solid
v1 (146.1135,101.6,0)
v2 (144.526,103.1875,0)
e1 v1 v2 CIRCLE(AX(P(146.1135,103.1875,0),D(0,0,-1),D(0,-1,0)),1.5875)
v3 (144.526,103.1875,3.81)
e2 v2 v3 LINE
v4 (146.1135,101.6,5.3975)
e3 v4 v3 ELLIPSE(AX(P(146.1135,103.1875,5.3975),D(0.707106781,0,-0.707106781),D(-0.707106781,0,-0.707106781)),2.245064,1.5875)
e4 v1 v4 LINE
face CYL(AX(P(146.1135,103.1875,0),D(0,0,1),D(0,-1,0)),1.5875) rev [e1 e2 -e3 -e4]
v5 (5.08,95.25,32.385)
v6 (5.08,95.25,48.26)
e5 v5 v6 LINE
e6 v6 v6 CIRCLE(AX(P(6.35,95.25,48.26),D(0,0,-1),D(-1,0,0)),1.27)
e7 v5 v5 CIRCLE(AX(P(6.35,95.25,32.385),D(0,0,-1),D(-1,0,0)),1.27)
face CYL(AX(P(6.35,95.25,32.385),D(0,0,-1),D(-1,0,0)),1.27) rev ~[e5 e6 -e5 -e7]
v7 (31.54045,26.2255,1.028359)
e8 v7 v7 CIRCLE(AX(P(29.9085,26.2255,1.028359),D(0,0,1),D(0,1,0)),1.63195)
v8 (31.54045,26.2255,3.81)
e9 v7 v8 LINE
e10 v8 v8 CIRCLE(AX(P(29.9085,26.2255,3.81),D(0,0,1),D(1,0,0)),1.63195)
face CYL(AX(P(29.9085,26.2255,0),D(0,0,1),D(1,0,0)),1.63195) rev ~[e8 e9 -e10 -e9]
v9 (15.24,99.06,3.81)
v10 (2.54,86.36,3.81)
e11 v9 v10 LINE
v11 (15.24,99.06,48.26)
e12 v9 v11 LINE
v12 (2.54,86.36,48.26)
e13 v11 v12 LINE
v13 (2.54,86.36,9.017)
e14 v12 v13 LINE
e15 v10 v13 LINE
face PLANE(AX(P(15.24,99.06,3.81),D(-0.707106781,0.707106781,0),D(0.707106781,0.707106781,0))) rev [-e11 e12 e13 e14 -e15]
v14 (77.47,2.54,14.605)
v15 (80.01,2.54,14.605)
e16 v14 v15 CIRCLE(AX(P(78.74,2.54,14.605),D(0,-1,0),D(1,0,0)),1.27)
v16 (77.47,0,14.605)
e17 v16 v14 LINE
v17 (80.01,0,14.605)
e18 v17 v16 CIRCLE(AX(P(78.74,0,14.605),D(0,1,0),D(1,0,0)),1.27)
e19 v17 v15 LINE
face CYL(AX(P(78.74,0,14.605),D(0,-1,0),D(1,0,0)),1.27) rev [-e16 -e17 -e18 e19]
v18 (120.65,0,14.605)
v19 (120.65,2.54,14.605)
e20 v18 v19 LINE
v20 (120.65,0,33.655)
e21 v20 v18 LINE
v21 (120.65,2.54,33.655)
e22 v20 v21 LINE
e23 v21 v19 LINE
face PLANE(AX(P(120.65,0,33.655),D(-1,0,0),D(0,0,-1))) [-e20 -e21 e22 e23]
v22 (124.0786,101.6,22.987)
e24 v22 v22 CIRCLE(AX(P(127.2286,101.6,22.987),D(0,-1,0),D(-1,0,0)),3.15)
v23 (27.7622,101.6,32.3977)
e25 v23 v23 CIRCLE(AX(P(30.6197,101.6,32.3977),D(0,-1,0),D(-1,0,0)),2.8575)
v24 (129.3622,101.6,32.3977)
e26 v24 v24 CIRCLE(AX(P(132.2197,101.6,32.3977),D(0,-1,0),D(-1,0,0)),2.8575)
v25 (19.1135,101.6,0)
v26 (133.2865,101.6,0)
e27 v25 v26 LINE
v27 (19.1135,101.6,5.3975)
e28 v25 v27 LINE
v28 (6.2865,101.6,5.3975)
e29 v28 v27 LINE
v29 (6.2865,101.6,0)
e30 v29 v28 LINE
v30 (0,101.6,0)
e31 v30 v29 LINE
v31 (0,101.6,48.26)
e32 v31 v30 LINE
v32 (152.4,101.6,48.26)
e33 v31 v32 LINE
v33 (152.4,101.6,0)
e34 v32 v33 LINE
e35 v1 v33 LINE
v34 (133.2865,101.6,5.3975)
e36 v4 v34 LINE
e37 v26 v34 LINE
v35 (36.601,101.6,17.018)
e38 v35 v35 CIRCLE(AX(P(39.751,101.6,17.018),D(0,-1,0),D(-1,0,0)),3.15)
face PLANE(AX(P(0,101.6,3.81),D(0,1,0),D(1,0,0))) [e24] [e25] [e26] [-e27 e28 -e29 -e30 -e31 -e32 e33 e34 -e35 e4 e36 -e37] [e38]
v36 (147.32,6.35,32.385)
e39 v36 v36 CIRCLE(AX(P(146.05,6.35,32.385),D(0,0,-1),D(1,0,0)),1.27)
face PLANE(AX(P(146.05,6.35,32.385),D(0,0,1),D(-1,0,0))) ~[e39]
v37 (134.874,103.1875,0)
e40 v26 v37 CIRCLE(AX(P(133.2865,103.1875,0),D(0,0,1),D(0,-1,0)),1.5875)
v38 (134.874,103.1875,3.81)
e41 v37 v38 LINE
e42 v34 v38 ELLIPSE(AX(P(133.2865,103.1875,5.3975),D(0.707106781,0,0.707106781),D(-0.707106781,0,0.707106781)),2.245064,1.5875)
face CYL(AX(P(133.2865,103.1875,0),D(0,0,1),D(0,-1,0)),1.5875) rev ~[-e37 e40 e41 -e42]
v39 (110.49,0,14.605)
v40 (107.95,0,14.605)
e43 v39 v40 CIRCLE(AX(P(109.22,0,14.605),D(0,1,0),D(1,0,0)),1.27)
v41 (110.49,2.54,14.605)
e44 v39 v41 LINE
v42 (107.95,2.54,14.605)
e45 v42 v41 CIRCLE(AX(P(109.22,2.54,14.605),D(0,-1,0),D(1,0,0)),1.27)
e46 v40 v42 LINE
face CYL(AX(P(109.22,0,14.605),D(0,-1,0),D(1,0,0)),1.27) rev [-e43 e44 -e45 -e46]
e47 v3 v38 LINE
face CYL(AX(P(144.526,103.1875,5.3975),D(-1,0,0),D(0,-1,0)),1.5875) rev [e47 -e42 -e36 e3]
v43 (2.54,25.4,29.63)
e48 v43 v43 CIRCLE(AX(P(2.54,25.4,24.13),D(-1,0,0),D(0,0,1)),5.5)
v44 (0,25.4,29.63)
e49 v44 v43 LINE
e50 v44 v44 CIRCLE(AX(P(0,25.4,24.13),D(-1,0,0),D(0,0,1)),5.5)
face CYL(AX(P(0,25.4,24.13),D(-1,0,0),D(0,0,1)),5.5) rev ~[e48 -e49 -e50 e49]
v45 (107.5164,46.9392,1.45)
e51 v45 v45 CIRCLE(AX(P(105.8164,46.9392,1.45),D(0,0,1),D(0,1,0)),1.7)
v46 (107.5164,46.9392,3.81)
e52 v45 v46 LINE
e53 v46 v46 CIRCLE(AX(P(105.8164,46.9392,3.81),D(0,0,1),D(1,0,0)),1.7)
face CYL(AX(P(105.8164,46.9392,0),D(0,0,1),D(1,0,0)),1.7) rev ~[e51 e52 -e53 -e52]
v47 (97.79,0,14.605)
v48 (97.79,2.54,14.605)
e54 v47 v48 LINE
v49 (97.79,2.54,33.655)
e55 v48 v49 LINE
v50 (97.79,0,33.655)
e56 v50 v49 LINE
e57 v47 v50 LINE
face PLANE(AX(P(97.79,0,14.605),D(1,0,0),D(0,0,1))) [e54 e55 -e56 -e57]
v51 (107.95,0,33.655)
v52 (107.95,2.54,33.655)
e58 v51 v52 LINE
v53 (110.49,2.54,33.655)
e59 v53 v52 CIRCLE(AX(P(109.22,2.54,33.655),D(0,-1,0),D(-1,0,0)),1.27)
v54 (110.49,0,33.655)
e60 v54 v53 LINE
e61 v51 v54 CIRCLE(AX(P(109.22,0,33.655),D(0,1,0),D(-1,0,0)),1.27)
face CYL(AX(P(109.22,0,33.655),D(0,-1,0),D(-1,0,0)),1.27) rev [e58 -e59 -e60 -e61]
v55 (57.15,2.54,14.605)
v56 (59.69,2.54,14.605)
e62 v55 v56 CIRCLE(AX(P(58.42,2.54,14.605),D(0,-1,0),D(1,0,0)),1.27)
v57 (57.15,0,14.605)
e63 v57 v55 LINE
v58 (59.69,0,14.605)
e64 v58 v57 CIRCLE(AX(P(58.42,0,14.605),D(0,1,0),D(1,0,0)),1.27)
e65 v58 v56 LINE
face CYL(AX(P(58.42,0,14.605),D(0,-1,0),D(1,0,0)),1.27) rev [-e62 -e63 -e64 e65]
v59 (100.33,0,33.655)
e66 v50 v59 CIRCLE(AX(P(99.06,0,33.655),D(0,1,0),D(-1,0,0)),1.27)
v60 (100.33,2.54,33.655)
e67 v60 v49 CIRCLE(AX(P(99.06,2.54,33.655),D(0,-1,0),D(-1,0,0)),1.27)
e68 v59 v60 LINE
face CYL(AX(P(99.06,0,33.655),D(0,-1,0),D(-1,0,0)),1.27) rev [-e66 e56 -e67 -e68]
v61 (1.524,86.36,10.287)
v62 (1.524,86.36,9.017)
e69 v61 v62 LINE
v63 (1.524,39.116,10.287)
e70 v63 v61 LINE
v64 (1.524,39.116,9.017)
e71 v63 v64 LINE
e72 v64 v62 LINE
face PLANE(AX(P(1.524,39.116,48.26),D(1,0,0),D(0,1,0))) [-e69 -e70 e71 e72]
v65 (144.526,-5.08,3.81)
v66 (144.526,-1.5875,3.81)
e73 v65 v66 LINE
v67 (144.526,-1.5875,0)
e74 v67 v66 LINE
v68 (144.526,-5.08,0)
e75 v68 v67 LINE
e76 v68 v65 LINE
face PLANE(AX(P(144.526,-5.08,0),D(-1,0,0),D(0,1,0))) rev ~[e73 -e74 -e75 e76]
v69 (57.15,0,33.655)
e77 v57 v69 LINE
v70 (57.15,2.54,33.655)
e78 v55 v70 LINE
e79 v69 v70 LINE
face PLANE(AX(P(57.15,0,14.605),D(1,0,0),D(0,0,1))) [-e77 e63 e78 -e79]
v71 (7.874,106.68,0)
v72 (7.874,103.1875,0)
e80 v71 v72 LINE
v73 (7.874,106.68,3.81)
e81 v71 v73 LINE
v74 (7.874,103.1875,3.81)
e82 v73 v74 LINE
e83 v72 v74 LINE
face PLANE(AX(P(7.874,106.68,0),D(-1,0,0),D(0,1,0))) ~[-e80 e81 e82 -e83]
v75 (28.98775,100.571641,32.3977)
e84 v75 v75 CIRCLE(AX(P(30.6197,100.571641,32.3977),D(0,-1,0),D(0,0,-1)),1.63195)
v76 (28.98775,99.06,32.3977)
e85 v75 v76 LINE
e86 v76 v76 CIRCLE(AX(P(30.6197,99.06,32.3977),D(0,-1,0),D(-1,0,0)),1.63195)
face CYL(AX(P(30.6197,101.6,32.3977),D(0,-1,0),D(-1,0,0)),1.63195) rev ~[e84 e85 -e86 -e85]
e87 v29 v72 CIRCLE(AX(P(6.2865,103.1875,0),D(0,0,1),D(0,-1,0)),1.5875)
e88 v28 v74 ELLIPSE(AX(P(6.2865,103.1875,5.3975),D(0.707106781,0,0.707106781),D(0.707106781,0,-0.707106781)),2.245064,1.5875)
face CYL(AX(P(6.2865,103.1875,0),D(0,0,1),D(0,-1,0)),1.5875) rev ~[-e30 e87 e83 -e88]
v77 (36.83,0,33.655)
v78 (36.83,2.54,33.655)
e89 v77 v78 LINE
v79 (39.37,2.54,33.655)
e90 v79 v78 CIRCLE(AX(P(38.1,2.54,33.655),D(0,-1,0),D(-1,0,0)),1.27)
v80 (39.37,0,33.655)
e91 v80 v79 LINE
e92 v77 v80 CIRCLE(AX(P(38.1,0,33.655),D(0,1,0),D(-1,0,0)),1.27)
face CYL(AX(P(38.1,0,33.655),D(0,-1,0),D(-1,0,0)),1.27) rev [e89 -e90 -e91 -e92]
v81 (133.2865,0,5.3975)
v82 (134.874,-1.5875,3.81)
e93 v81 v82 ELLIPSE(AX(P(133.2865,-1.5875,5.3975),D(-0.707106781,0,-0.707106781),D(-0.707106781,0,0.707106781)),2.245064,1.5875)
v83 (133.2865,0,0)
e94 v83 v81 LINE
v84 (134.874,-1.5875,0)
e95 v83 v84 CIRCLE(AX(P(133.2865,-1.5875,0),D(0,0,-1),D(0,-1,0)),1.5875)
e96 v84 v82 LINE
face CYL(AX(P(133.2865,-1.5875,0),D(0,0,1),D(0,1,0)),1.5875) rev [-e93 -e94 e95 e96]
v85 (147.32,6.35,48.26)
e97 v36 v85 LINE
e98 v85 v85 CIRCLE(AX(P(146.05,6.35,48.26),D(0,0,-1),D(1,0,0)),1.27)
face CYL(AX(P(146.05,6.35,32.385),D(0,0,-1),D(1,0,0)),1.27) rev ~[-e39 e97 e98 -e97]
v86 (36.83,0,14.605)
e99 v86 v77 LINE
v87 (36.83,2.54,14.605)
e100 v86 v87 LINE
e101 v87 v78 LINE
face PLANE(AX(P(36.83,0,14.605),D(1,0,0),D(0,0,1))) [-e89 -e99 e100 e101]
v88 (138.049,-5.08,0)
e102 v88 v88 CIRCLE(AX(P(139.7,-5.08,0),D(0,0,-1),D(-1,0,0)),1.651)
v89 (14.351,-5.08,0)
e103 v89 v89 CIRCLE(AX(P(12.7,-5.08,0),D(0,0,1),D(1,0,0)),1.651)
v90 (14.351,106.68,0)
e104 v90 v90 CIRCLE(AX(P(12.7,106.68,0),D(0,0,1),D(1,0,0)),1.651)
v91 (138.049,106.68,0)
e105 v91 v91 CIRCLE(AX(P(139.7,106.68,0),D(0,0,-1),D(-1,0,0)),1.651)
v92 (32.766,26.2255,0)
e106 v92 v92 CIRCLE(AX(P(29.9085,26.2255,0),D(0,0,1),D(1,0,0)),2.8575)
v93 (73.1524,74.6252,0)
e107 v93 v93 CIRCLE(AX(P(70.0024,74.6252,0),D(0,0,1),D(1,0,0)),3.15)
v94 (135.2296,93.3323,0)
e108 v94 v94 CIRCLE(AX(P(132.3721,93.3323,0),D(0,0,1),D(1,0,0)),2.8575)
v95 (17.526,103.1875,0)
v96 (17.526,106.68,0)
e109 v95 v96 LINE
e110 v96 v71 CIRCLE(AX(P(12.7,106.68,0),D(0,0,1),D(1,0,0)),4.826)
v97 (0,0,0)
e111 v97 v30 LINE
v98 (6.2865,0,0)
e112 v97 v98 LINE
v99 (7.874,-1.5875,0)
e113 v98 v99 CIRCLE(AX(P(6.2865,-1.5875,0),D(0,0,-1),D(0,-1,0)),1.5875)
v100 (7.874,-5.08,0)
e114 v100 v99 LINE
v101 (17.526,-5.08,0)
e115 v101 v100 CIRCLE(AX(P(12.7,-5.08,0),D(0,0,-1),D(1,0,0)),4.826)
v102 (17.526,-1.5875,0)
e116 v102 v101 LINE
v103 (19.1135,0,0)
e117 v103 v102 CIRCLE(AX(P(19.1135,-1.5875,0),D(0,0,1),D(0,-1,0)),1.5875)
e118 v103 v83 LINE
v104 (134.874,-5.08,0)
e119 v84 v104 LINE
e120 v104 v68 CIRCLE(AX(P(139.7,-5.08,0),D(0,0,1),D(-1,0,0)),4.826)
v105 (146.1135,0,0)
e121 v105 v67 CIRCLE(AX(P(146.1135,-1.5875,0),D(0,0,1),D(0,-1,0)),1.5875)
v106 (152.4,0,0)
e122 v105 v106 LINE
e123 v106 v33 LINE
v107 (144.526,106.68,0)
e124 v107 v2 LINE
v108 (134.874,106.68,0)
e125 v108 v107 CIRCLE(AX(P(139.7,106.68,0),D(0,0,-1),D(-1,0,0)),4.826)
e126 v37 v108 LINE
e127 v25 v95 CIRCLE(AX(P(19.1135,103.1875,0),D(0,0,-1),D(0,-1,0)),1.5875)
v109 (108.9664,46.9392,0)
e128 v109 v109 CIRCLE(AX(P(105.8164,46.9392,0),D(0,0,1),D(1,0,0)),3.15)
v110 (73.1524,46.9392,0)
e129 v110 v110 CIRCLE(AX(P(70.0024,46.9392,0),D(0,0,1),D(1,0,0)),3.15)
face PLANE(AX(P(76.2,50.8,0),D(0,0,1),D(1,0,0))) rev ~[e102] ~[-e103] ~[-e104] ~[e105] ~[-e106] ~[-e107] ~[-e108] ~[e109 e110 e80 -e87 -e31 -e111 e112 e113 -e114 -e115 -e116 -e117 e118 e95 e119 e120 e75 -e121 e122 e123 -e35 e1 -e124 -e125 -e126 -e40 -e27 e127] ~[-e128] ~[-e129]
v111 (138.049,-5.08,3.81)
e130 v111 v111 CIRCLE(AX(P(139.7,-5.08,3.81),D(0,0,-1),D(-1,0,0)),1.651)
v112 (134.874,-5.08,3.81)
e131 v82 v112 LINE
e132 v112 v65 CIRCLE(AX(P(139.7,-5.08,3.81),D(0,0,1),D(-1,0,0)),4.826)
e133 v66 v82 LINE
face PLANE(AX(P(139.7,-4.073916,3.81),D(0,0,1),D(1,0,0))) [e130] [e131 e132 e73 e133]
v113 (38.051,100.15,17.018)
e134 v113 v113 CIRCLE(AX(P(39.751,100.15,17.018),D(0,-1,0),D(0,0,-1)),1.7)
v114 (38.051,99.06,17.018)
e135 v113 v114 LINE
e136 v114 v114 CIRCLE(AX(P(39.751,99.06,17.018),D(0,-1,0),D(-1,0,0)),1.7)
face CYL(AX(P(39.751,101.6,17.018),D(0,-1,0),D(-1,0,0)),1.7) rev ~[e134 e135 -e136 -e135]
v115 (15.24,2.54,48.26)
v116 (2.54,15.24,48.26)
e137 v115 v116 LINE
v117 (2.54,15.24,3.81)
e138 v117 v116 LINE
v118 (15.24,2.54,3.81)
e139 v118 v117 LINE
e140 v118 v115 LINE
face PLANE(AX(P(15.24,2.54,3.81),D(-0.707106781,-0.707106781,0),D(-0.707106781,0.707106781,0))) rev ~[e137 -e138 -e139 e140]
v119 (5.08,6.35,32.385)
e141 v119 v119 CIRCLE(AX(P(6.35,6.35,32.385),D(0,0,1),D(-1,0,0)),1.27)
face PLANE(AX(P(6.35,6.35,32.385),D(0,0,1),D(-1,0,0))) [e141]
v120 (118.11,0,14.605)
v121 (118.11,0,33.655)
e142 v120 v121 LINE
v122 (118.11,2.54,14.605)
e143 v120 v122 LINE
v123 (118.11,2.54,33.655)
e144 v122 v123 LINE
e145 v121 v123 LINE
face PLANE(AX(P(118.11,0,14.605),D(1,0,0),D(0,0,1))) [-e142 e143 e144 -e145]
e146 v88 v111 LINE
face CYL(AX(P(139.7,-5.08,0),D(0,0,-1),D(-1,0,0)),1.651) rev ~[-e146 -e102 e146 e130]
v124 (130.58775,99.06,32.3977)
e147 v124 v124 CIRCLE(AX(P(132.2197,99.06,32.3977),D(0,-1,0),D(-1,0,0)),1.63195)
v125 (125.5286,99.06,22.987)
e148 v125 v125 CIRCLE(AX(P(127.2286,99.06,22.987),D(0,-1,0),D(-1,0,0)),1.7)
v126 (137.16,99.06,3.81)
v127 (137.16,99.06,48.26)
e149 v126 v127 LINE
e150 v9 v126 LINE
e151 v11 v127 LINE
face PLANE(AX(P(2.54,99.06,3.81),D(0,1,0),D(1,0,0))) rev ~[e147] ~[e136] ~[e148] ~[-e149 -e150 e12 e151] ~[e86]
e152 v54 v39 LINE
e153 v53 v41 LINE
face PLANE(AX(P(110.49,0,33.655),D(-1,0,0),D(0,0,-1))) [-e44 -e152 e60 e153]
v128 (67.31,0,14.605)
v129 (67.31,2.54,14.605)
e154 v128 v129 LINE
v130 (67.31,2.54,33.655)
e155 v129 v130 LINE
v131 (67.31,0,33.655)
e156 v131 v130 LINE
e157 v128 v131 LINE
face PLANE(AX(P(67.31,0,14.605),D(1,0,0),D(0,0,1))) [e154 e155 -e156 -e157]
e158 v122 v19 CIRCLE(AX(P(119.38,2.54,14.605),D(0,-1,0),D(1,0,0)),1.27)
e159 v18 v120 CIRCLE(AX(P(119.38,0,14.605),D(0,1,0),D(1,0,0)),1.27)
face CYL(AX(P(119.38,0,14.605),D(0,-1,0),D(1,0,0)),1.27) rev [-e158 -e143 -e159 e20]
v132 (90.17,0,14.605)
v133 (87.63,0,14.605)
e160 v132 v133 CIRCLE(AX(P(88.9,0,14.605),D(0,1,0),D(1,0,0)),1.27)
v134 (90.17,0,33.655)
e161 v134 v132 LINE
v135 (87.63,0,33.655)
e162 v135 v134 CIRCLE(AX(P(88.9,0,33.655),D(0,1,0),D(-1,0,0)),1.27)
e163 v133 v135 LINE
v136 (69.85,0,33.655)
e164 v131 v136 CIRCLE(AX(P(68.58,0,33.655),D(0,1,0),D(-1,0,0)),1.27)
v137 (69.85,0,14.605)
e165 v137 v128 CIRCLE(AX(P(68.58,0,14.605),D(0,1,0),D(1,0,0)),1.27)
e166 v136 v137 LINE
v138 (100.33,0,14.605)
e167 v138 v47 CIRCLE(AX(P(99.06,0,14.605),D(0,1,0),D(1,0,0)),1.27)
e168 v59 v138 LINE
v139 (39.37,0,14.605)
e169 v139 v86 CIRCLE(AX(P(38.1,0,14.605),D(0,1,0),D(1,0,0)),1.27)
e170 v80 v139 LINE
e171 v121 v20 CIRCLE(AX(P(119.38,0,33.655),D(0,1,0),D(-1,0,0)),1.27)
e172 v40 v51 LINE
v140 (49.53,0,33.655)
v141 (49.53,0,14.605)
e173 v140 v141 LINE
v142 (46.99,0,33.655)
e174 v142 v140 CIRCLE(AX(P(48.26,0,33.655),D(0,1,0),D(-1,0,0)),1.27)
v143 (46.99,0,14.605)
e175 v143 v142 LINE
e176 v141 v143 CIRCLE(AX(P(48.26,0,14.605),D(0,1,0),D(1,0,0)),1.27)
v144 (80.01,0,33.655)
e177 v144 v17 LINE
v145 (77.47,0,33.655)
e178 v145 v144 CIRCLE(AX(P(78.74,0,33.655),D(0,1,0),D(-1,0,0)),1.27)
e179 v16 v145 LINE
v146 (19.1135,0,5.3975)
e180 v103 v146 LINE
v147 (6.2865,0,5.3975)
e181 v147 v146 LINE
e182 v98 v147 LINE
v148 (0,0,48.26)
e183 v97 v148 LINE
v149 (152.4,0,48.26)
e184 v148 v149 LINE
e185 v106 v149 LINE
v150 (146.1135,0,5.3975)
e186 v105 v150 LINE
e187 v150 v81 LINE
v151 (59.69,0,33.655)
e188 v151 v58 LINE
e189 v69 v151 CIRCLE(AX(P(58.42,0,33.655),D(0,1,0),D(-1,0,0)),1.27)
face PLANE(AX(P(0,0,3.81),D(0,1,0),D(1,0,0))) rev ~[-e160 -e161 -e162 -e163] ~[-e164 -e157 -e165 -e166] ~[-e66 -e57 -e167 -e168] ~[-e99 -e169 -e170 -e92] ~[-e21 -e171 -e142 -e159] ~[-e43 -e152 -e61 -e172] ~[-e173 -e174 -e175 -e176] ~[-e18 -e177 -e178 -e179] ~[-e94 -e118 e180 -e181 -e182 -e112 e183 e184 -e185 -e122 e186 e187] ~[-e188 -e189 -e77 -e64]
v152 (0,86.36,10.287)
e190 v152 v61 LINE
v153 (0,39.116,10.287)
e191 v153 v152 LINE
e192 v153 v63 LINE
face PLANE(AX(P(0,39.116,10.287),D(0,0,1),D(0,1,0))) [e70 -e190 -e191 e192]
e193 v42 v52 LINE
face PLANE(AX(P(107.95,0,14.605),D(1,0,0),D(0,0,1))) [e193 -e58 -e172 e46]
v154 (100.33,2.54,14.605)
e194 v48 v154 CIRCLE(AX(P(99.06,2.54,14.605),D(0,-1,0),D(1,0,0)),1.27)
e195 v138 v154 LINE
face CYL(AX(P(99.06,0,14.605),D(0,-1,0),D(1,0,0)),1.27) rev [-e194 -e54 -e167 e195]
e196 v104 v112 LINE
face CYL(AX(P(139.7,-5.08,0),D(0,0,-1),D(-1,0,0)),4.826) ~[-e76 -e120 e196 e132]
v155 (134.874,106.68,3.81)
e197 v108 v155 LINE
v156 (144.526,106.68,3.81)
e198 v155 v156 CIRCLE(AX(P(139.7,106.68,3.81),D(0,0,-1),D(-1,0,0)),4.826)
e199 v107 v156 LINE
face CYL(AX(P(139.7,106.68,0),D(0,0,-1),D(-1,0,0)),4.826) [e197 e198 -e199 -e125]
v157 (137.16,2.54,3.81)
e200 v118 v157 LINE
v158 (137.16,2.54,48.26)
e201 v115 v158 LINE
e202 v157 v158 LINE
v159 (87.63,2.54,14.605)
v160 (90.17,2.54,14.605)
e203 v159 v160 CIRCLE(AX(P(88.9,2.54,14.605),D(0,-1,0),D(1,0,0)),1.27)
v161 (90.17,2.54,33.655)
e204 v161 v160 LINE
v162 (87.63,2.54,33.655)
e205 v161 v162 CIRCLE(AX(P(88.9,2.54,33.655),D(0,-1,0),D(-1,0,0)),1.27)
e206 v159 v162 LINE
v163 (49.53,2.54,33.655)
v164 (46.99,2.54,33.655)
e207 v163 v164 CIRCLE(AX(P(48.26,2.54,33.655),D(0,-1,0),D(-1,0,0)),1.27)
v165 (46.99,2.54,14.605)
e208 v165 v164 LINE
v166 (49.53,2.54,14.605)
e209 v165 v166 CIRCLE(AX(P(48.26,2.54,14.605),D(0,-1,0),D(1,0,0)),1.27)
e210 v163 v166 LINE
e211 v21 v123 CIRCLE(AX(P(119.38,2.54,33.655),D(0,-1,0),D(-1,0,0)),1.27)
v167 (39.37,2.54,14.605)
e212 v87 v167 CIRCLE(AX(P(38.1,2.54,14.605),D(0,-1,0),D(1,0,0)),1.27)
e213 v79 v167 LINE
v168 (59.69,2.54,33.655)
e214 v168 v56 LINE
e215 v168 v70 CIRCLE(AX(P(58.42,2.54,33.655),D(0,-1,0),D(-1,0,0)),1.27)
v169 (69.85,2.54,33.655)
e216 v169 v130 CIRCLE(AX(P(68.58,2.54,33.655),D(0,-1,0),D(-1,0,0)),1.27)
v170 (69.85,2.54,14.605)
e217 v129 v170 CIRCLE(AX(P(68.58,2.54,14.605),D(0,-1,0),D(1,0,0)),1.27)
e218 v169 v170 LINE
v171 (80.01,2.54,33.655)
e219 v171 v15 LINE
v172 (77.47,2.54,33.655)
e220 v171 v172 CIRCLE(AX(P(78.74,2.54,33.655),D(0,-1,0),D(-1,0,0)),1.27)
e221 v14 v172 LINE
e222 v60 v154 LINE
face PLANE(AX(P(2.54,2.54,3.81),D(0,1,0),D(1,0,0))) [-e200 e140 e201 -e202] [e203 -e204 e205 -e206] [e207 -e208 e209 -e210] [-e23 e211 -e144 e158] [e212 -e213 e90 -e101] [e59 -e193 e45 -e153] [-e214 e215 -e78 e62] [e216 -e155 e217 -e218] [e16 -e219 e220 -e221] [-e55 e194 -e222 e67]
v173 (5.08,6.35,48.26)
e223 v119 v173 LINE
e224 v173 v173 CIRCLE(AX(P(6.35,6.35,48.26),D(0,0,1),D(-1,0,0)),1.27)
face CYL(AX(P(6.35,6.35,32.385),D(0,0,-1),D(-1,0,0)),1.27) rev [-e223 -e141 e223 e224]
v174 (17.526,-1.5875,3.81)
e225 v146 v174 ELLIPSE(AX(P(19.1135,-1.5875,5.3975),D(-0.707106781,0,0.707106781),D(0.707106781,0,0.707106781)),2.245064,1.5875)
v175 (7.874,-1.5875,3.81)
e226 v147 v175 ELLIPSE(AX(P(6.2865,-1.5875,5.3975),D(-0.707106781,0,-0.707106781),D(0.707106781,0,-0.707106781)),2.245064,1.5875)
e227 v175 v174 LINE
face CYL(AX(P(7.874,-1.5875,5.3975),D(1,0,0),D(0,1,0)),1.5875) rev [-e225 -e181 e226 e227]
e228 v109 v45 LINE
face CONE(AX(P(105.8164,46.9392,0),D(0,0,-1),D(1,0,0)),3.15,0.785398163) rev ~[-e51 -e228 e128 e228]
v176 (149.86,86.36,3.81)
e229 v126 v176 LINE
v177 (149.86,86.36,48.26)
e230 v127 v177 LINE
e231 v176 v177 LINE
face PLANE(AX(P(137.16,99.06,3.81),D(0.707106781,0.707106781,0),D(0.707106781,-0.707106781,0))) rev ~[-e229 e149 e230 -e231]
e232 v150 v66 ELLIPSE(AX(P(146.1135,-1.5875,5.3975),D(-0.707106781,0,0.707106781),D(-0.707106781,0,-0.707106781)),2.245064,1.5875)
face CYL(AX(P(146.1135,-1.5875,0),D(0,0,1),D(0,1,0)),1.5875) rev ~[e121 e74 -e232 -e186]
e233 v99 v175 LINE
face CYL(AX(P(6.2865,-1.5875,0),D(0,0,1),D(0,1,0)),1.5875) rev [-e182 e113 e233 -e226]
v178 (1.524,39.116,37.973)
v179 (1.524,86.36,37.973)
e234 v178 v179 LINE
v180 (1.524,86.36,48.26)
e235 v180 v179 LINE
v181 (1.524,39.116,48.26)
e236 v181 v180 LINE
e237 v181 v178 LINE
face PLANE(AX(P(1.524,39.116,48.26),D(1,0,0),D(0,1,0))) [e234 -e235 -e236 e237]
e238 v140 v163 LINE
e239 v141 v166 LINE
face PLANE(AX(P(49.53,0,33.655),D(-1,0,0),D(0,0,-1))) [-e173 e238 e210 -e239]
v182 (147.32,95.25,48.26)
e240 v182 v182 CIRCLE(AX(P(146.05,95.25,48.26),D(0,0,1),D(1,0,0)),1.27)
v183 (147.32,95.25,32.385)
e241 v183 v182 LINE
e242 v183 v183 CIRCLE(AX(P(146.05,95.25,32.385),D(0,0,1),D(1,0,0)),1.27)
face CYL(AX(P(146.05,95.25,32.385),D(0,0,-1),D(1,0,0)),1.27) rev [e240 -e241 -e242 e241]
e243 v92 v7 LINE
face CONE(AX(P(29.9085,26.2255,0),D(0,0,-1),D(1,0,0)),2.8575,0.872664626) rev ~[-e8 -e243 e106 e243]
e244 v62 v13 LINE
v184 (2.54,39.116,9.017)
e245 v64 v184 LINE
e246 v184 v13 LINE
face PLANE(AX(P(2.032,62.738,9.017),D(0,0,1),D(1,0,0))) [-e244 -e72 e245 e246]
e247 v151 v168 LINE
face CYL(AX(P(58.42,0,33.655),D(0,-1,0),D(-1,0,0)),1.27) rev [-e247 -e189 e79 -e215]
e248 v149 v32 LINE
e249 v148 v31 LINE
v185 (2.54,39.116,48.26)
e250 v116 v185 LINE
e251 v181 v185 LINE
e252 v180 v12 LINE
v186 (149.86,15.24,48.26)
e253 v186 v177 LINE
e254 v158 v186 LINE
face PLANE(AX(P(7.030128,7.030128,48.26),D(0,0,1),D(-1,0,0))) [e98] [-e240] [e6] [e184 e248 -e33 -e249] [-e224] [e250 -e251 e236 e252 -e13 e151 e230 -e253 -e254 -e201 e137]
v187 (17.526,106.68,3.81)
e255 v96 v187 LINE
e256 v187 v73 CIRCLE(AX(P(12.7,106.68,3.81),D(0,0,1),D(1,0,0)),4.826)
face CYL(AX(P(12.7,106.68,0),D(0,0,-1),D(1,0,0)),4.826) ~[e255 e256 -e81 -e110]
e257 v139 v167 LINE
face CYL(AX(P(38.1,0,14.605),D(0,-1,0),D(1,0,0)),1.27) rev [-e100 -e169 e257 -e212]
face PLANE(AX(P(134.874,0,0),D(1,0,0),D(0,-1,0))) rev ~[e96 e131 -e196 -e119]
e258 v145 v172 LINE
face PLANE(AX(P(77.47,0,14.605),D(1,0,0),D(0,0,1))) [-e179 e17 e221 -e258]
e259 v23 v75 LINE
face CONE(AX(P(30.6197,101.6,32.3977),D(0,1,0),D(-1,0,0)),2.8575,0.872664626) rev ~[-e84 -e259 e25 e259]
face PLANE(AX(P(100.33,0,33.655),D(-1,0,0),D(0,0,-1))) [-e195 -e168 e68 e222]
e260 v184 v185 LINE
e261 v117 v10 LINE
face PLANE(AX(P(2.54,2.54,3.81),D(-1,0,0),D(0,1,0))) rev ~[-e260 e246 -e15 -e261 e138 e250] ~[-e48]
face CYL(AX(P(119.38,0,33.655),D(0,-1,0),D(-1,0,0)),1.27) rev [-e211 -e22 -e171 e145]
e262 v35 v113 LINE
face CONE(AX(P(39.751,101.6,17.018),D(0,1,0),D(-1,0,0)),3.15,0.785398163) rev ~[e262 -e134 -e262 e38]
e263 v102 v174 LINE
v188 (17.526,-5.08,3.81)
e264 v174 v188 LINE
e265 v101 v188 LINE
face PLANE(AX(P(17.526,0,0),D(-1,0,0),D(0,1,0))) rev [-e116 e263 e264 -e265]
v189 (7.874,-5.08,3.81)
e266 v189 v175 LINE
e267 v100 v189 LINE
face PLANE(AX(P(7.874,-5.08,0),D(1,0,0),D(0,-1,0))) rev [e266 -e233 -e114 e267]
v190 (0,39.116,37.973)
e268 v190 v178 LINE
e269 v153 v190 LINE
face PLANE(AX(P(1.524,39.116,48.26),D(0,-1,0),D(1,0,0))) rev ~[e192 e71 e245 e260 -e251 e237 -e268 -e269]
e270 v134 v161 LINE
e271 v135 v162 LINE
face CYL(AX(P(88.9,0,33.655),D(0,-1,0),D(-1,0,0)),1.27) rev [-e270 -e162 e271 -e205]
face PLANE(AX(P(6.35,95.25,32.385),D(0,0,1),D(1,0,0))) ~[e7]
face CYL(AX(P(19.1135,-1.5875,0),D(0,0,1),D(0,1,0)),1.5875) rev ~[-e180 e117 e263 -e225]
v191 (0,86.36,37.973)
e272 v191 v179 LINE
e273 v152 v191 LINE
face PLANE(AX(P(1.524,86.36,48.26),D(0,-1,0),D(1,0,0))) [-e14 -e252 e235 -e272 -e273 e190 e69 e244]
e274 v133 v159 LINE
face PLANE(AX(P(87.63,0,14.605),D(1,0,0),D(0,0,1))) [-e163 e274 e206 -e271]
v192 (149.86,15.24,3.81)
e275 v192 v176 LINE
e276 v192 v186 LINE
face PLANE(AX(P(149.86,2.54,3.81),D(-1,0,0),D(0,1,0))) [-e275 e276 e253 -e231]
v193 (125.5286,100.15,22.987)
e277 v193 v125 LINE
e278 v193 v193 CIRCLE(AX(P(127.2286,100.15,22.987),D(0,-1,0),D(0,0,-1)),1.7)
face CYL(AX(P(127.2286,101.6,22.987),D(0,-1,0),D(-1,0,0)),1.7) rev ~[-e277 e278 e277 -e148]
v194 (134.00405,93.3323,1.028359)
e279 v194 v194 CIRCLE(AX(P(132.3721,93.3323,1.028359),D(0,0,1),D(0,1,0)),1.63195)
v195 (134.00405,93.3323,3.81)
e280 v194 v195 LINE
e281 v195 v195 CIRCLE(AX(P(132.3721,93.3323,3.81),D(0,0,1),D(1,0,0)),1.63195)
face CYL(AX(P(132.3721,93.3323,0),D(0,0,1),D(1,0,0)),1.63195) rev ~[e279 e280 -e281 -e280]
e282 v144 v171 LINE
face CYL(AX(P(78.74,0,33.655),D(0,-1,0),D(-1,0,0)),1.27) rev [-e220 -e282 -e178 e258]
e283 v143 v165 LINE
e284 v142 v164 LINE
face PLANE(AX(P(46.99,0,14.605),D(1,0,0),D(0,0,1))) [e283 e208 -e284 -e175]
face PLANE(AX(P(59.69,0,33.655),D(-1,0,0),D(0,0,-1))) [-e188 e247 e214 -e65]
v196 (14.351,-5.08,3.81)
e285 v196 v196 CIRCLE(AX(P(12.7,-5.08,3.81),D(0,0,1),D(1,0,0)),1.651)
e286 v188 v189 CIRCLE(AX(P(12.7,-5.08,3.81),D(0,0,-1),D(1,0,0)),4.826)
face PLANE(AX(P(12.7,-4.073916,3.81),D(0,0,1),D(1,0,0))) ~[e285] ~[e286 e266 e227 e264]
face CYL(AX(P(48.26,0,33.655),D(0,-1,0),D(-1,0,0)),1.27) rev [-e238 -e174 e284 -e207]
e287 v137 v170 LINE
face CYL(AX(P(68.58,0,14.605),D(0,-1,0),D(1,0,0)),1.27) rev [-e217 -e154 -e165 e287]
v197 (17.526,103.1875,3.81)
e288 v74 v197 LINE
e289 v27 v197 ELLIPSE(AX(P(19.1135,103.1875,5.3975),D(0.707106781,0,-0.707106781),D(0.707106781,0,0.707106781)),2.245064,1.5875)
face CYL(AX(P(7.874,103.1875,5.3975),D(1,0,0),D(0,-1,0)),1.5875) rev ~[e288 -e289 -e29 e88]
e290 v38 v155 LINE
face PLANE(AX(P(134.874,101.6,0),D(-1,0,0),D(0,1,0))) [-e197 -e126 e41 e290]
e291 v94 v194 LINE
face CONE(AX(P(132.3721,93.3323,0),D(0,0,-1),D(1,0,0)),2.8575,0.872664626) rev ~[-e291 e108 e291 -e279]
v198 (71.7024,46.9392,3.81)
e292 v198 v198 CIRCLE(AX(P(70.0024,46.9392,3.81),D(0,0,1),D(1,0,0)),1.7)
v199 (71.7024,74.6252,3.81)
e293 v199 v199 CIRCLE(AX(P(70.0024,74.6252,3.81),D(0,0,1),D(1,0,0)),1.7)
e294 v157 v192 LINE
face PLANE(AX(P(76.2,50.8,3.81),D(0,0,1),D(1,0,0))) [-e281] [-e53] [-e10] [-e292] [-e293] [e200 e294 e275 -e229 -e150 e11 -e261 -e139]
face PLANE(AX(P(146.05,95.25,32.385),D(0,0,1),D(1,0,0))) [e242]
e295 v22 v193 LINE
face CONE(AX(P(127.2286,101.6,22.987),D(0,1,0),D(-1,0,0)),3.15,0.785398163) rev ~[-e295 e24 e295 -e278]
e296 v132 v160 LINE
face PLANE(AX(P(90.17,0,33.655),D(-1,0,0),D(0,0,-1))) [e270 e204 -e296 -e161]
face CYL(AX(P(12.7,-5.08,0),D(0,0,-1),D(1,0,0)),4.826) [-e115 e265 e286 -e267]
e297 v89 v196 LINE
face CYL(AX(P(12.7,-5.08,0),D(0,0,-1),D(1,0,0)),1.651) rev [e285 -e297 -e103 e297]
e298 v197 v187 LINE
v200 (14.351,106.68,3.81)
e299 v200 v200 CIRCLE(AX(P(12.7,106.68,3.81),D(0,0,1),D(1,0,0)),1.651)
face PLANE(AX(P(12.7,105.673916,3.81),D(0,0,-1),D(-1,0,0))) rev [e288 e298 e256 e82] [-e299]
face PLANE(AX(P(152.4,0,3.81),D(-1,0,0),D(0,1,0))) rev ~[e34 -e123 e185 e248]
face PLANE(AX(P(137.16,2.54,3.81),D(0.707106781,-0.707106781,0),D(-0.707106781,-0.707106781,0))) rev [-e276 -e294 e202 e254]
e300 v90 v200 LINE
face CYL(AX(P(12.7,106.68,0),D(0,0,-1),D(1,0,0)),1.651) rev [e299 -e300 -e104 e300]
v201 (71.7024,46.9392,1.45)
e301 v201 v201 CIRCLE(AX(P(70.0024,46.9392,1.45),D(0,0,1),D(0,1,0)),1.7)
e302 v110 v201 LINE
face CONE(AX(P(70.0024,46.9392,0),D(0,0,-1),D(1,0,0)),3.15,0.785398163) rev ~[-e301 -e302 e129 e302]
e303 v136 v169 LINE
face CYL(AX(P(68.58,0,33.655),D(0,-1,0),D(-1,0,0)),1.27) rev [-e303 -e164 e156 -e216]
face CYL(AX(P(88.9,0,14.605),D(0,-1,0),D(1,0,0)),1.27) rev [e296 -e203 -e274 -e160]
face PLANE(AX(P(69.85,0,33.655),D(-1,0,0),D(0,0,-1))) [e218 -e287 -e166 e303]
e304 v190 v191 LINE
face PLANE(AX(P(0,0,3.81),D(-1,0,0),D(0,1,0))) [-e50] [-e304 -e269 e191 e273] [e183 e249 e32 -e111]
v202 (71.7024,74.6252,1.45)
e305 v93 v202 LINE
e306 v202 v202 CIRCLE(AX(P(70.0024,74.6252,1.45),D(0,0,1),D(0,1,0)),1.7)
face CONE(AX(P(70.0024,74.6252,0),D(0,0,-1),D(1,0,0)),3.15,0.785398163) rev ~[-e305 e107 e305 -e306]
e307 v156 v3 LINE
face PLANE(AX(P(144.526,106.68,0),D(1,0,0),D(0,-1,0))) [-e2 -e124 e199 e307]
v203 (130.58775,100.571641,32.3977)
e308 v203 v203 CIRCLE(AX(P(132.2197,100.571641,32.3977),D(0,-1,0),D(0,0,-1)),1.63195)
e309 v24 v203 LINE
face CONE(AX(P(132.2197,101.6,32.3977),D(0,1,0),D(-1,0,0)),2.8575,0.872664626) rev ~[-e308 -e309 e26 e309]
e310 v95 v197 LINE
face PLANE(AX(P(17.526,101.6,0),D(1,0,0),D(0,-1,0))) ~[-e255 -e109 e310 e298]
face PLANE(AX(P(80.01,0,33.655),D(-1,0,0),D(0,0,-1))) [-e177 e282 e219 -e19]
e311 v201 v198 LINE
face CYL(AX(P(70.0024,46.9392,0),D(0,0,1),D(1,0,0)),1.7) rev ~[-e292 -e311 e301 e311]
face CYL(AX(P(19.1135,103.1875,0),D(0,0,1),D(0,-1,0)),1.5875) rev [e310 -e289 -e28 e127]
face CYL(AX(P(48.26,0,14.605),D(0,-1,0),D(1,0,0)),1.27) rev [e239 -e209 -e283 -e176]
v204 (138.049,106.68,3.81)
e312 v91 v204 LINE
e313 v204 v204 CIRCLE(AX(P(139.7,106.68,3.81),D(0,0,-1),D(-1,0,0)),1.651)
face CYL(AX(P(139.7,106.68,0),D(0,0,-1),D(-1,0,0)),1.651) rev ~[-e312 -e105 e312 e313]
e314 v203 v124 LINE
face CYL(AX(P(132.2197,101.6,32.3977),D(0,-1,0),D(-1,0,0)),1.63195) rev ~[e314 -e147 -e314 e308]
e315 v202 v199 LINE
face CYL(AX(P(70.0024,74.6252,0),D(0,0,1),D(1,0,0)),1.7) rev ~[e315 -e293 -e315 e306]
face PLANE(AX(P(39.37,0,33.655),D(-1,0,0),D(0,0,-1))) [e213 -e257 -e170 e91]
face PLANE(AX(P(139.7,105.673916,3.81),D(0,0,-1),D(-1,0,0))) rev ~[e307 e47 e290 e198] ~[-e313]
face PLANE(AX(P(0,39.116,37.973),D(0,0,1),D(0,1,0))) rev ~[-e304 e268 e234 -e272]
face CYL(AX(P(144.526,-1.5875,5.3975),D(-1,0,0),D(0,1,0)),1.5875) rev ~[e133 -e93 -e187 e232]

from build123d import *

# Parameters (mm, degrees)
SKETCH1_W                                         = 152.4
SKETCH1_H                                         = 101.6
BOSS_EXTRUDE1_DEPTH                               = 3.81
SKETCH2_W                                         = 152.4
SKETCH2_H                                         = 101.6
SKETCH2_W_2                                       = 147.32
SKETCH2_H_2                                       = 96.52
BOSS_EXTRUDE2_DEPTH                               = 44.45
BOSS_EXTRUDE3_DEPTH                               = 44.45
CUT_EXTRUDE1_START                                = 28.575
SKETCH3_3_R                                       = 1.27
CUT_EXTRUDE1_DEPTH                                = 15.875
MIRROR2_COPY_1_DEPTH                              = 44.45
MIRROR2_START                                     = 28.575
MIRROR2_COPY_2_SKETCH_R                           = 1.27
MIRROR2_COPY_2_DEPTH                              = 15.875
CUT_EXTRUDE2_REACH                                = 191.413
SKETCH6_R                                         = 5.5
SKETCH6_W                                         = 27.686
SKETCH6_H                                         = 47.244
SKETCH7_W                                         = 1.016
SKETCH7_H                                         = 47.244
CUT_EXTRUDE3_DEPTH                                = 39.243
SKETCH8_R                                         = 1.651
BOSS_EXTRUDE4_DEPTH                               = 3.81
FILLET1_R                                         = 1.5875
FILLET1_OF_MIRROR5_R                              = 1.5875
CUT_EXTRUDE4_REACH                                = 196.906
LPATTERN1_COUNT                                   = 9
LPATTERN1_PITCH                                   = 10.16
CSK_FOR_M3_FLAT_HEAD_MACHINE_SCREW1_D             = 3.4
CSK_FOR_M3_FLAT_HEAD_MACHINE_SCREW1_DEPTH         = 6.35
CSK_FOR_M3_FLAT_HEAD_MACHINE_SCREW1_CSINK_D       = 6.3
CSK_FOR_M3_FLAT_HEAD_MACHINE_SCREW1_CSINK_ANGLE   = 90
CSK_FOR_M3_FLAT_HEAD_MACHINE_SCREW1_TIP           = 1.021463052
CSK_FOR_M3_FLAT_HEAD_MACHINE_SCREW2_D             = 3.4
CSK_FOR_M3_FLAT_HEAD_MACHINE_SCREW2_DEPTH         = 6.35
CSK_FOR_M3_FLAT_HEAD_MACHINE_SCREW2_CSINK_D       = 6.3
CSK_FOR_M3_FLAT_HEAD_MACHINE_SCREW2_CSINK_ANGLE   = 90
CSK_FOR_M3_FLAT_HEAD_MACHINE_SCREW2_TIP           = 1.021463052
CSK_FOR_4_FLAT_HEAD_MACHINE_SCREW_100_D           = 3.2639
CSK_FOR_4_FLAT_HEAD_MACHINE_SCREW_100_DEPTH       = 6.35
CSK_FOR_4_FLAT_HEAD_MACHINE_SCREW_100_CSINK_D     = 5.715
CSK_FOR_4_FLAT_HEAD_MACHINE_SCREW_100_CSINK_ANGLE = 100
CSK_FOR_4_FLAT_HEAD_MACHINE_SCREW_100_TIP         = 0.980574487
CSK_FOR_4_FLAT_HEAD_MACHINE_SCREW_2_D             = 3.2639
CSK_FOR_4_FLAT_HEAD_MACHINE_SCREW_2_DEPTH         = 6.35
CSK_FOR_4_FLAT_HEAD_MACHINE_SCREW_2_CSINK_D       = 5.715
CSK_FOR_4_FLAT_HEAD_MACHINE_SCREW_2_CSINK_ANGLE   = 100
CSK_FOR_4_FLAT_HEAD_MACHINE_SCREW_2_TIP           = 0.980574487


with BuildPart() as part:
    # Sketch1 → Boss-Extrude1 (new body)
    with BuildSketch(Plane.XY):
        with Locations((76.2, 50.8)):
            Rectangle(SKETCH1_W, SKETCH1_H)
    extrude(amount=BOSS_EXTRUDE1_DEPTH)

    # Sketch2 → Boss-Extrude2 (add)
    with BuildSketch(Plane.XY.offset(3.81)):
        with Locations((76.2, 50.8)):
            Rectangle(SKETCH2_W, SKETCH2_H)
        with Locations((76.2, 50.8)):
            Rectangle(SKETCH2_W_2, SKETCH2_H_2, mode=Mode.SUBTRACT)
    extrude(amount=BOSS_EXTRUDE2_DEPTH)

    # Sketch3 → Boss-Extrude3 (add)
    with BuildSketch(Plane.XY.offset(3.81)):
        Polygon((137.16, 99.06), (149.86, 86.36), (149.86, 99.06), align=None)
    boss_extrude3 = extrude(amount=BOSS_EXTRUDE3_DEPTH)

    # Sketch3<3> → Cut-Extrude1 (cut)
    with BuildSketch(Plane.XY.offset(3.81).offset(CUT_EXTRUDE1_START)):
        with Locations((146.05, 95.25)):
            Circle(SKETCH3_3_R)
    cut_extrude1 = extrude(amount=CUT_EXTRUDE1_DEPTH, mode=Mode.SUBTRACT)

    # Mirror1: Boss-Extrude3, Cut-Extrude1 across plane
    add(boss_extrude3.mirror(Plane(origin=(76.2, 0, 0), x_dir=(0, 0, 1), z_dir=(1, 0, 0))))
    add(cut_extrude1.mirror(Plane(origin=(76.2, 0, 0), x_dir=(0, 0, 1), z_dir=(1, 0, 0))), mode=Mode.SUBTRACT)

    # Mirror2: Boss-Extrude3, Cut-Extrude1 across plane
    add(boss_extrude3.mirror(Plane(origin=(0, 50.8, 0), x_dir=(0, 0, 1), z_dir=(0, -1, 0))))
    add(cut_extrude1.mirror(Plane(origin=(0, 50.8, 0), x_dir=(0, 0, 1), z_dir=(0, -1, 0))), mode=Mode.SUBTRACT)

    # Mirror2 copy 1 sketch → Mirror2 copy 1 (add)
    with BuildSketch(Plane(origin=(152.4, 101.6, 3.81), x_dir=(-1, 0, 0), z_dir=(0, 0, 1))):
        Polygon((137.16, 99.06), (149.86, 86.36), (149.86, 99.06), align=None)
    extrude(amount=MIRROR2_COPY_1_DEPTH)

    # Mirror2 copy 2 sketch → Mirror2 copy 2 (cut)
    with BuildSketch(Plane(origin=(152.4, 101.6, 3.81), x_dir=(-1, 0, 0), z_dir=(0, 0, 1)).offset(MIRROR2_START)):
        with Locations((146.05, 95.25)):
            Circle(MIRROR2_COPY_2_SKETCH_R)
    extrude(amount=MIRROR2_COPY_2_DEPTH, mode=Mode.SUBTRACT)

    # Sketch6 → Cut-Extrude2 (cut, up to next)
    with BuildSketch(Plane.ZY, mode=Mode.PRIVATE) as cut_extrude2_sk1:
        with Locations((24.13, 25.4)):
            Circle(SKETCH6_R)
    cut_extrude2_tool1 = extrude(cut_extrude2_sk1.sketch, amount=-CUT_EXTRUDE2_REACH, mode=Mode.PRIVATE) & part.part
    # Sketch6 → Cut-Extrude2 (cut, up to next)
    with BuildSketch(Plane.ZY, mode=Mode.PRIVATE) as cut_extrude2_sk2:
        with Locations((24.13, 62.738)):
            Rectangle(SKETCH6_W, SKETCH6_H)
    cut_extrude2_tool2 = extrude(cut_extrude2_sk2.sketch, amount=-CUT_EXTRUDE2_REACH, mode=Mode.PRIVATE) & part.part
    add(cut_extrude2_tool1.solids().sort_by_distance((0, 25.4, 24.13))[0], mode=Mode.SUBTRACT)
    add(cut_extrude2_tool2.solids().sort_by_distance((0, 62.738, 24.13))[0], mode=Mode.SUBTRACT)

    # Sketch7 → Cut-Extrude3 (cut)
    with BuildSketch(Plane.XY.offset(48.26)):
        with Locations((2.032, 62.738)):
            Rectangle(SKETCH7_W, SKETCH7_H)
    extrude(amount=-CUT_EXTRUDE3_DEPTH, mode=Mode.SUBTRACT)

    # Sketch8 → Boss-Extrude4 (add)
    # profile 1 of 2: a face of its own
    with BuildSketch(Plane(origin=(0, 0, 0), x_dir=(-1, 0, 0), z_dir=(0, 0, -1))):
        with BuildLine():
            Line((-144.526, 106.68), (-144.526, 101.6))
            Line((-144.526, 101.6), (-134.874, 101.6))
            Line((-134.874, 101.6), (-134.874, 106.68))
            ThreePointArc((-134.874, 106.68), (-139.7, 111.506), (-144.526, 106.68))
        make_face()
        with Locations((-139.7, 106.68)):
            Circle(SKETCH8_R, mode=Mode.SUBTRACT)
    # profile 2 of 2: a face of its own
    with BuildSketch(Plane(origin=(0, 0, 0), x_dir=(-1, 0, 0), z_dir=(0, 0, -1))):
        with BuildLine():
            Line((-134.874, 0), (-134.874, -5.08))
            ThreePointArc((-134.874, -5.08), (-139.7, -9.906), (-144.526, -5.08))
            Line((-144.526, -5.08), (-144.526, 0))
            Line((-144.526, 0), (-134.874, 0))
        make_face()
        with Locations((-139.7, -5.08)):
            Circle(SKETCH8_R, mode=Mode.SUBTRACT)
    boss_extrude4 = extrude(amount=-BOSS_EXTRUDE4_DEPTH)

    # Fillet1
    fillet1_edges = [part.edges().sort_by_distance(p)[0] for p in [
        (139.7, 101.6, 3.81),
        (134.874, 101.6, 1.905),
        (144.526, 101.6, 1.905),
        (139.7, 0, 3.81),
        (144.526, 0, 1.905),
        (134.874, 0, 1.905),
    ]]
    fillet(fillet1_edges, radius=FILLET1_R)

    # Mirror5: Boss-Extrude4 across plane
    add(boss_extrude4.mirror(Plane(origin=(76.2, 0, 0), x_dir=(0, 0, 1), z_dir=(1, 0, 0))))

    # Fillet1 of Mirror5
    fillet1_of_mirror5_edges = [part.edges().sort_by_distance(p)[0] for p in [
        (12.7, 101.6, 3.81),
        (17.526, 101.6, 1.905),
        (7.874, 101.6, 1.905),
        (12.7, 0, 3.81),
        (7.874, 0, 1.905),
        (17.526, 0, 1.905),
    ]]
    fillet(fillet1_of_mirror5_edges, radius=FILLET1_OF_MIRROR5_R)

    # Sketch9 → Cut-Extrude4 (cut, up to next)
    with BuildSketch(Plane.XZ, mode=Mode.PRIVATE) as cut_extrude4_sk1:
        with BuildLine():
            Line((39.37, 33.655), (39.37, 14.605))
            ThreePointArc((39.37, 14.605), (38.1, 13.335), (36.83, 14.605))
            Line((36.83, 14.605), (36.83, 33.655))
            ThreePointArc((36.83, 33.655), (38.1, 34.925), (39.37, 33.655))
        make_face()
    cut_extrude4_tool1 = extrude(cut_extrude4_sk1.sketch, amount=-CUT_EXTRUDE4_REACH, mode=Mode.PRIVATE) & part.part
    cut_extrude4 = cut_extrude4_tool1.solids().sort_by_distance((38.1, 0, 24.13))[0]
    add(cut_extrude4, mode=Mode.SUBTRACT)

    # LPattern1: Cut-Extrude4 ×9
    with Locations(*[(i * LPATTERN1_PITCH, 0, 0) for i in range(1, LPATTERN1_COUNT)]):
        add(cut_extrude4, mode=Mode.SUBTRACT)

    # CSK for M3 Flat Head Machine Screw1
    with Locations(Plane(origin=(0, 0, 0), x_dir=(-1, 0, 0), z_dir=(0, 0, -1))):
        with Locations((-70.0024, 74.6252), (-70.0024, 46.9392), (-105.8164, 46.9392)):
            CounterSinkHole(CSK_FOR_M3_FLAT_HEAD_MACHINE_SCREW1_D / 2, CSK_FOR_M3_FLAT_HEAD_MACHINE_SCREW1_CSINK_D / 2, depth=CSK_FOR_M3_FLAT_HEAD_MACHINE_SCREW1_DEPTH, counter_sink_angle=CSK_FOR_M3_FLAT_HEAD_MACHINE_SCREW1_CSINK_ANGLE)
            with Locations((0, 0, -(CSK_FOR_M3_FLAT_HEAD_MACHINE_SCREW1_DEPTH + CSK_FOR_M3_FLAT_HEAD_MACHINE_SCREW1_TIP / 2))):  # 118° drill point
                Cone(0, CSK_FOR_M3_FLAT_HEAD_MACHINE_SCREW1_D / 2, CSK_FOR_M3_FLAT_HEAD_MACHINE_SCREW1_TIP, mode=Mode.SUBTRACT)

    # CSK for M3 Flat Head Machine Screw2
    with Locations(Plane(origin=(0, 101.6, 0), x_dir=(1, 0, 0), z_dir=(0, 1, 0))):
        with Locations((39.751, -17.018), (127.2286, -22.987)):
            CounterSinkHole(CSK_FOR_M3_FLAT_HEAD_MACHINE_SCREW2_D / 2, CSK_FOR_M3_FLAT_HEAD_MACHINE_SCREW2_CSINK_D / 2, depth=CSK_FOR_M3_FLAT_HEAD_MACHINE_SCREW2_DEPTH, counter_sink_angle=CSK_FOR_M3_FLAT_HEAD_MACHINE_SCREW2_CSINK_ANGLE)
            with Locations((0, 0, -(CSK_FOR_M3_FLAT_HEAD_MACHINE_SCREW2_DEPTH + CSK_FOR_M3_FLAT_HEAD_MACHINE_SCREW2_TIP / 2))):  # 118° drill point
                Cone(0, CSK_FOR_M3_FLAT_HEAD_MACHINE_SCREW2_D / 2, CSK_FOR_M3_FLAT_HEAD_MACHINE_SCREW2_TIP, mode=Mode.SUBTRACT)

    # CSK for _4 Flat Head Machine Screw _100
    with Locations(Plane(origin=(0, 101.6, 0), x_dir=(1, 0, 0), z_dir=(0, 1, 0))):
        with Locations((30.6197, -32.3977), (132.2197, -32.3977)):
            CounterSinkHole(CSK_FOR_4_FLAT_HEAD_MACHINE_SCREW_100_D / 2, CSK_FOR_4_FLAT_HEAD_MACHINE_SCREW_100_CSINK_D / 2, depth=CSK_FOR_4_FLAT_HEAD_MACHINE_SCREW_100_DEPTH, counter_sink_angle=CSK_FOR_4_FLAT_HEAD_MACHINE_SCREW_100_CSINK_ANGLE)
            with Locations((0, 0, -(CSK_FOR_4_FLAT_HEAD_MACHINE_SCREW_100_DEPTH + CSK_FOR_4_FLAT_HEAD_MACHINE_SCREW_100_TIP / 2))):  # 118° drill point
                Cone(0, CSK_FOR_4_FLAT_HEAD_MACHINE_SCREW_100_D / 2, CSK_FOR_4_FLAT_HEAD_MACHINE_SCREW_100_TIP, mode=Mode.SUBTRACT)

    # CSK for _4 Flat Head Machine Screw _ 2
    with Locations(Plane(origin=(0, 0, 0), x_dir=(-1, 0, 0), z_dir=(0, 0, -1))):
        with Locations((-29.9085, 26.2255), (-132.3721, 93.3323)):
            CounterSinkHole(CSK_FOR_4_FLAT_HEAD_MACHINE_SCREW_2_D / 2, CSK_FOR_4_FLAT_HEAD_MACHINE_SCREW_2_CSINK_D / 2, depth=CSK_FOR_4_FLAT_HEAD_MACHINE_SCREW_2_DEPTH, counter_sink_angle=CSK_FOR_4_FLAT_HEAD_MACHINE_SCREW_2_CSINK_ANGLE)
            with Locations((0, 0, -(CSK_FOR_4_FLAT_HEAD_MACHINE_SCREW_2_DEPTH + CSK_FOR_4_FLAT_HEAD_MACHINE_SCREW_2_TIP / 2))):  # 118° drill point
                Cone(0, CSK_FOR_4_FLAT_HEAD_MACHINE_SCREW_2_D / 2, CSK_FOR_4_FLAT_HEAD_MACHINE_SCREW_2_TIP, mode=Mode.SUBTRACT)


solid = part.part
